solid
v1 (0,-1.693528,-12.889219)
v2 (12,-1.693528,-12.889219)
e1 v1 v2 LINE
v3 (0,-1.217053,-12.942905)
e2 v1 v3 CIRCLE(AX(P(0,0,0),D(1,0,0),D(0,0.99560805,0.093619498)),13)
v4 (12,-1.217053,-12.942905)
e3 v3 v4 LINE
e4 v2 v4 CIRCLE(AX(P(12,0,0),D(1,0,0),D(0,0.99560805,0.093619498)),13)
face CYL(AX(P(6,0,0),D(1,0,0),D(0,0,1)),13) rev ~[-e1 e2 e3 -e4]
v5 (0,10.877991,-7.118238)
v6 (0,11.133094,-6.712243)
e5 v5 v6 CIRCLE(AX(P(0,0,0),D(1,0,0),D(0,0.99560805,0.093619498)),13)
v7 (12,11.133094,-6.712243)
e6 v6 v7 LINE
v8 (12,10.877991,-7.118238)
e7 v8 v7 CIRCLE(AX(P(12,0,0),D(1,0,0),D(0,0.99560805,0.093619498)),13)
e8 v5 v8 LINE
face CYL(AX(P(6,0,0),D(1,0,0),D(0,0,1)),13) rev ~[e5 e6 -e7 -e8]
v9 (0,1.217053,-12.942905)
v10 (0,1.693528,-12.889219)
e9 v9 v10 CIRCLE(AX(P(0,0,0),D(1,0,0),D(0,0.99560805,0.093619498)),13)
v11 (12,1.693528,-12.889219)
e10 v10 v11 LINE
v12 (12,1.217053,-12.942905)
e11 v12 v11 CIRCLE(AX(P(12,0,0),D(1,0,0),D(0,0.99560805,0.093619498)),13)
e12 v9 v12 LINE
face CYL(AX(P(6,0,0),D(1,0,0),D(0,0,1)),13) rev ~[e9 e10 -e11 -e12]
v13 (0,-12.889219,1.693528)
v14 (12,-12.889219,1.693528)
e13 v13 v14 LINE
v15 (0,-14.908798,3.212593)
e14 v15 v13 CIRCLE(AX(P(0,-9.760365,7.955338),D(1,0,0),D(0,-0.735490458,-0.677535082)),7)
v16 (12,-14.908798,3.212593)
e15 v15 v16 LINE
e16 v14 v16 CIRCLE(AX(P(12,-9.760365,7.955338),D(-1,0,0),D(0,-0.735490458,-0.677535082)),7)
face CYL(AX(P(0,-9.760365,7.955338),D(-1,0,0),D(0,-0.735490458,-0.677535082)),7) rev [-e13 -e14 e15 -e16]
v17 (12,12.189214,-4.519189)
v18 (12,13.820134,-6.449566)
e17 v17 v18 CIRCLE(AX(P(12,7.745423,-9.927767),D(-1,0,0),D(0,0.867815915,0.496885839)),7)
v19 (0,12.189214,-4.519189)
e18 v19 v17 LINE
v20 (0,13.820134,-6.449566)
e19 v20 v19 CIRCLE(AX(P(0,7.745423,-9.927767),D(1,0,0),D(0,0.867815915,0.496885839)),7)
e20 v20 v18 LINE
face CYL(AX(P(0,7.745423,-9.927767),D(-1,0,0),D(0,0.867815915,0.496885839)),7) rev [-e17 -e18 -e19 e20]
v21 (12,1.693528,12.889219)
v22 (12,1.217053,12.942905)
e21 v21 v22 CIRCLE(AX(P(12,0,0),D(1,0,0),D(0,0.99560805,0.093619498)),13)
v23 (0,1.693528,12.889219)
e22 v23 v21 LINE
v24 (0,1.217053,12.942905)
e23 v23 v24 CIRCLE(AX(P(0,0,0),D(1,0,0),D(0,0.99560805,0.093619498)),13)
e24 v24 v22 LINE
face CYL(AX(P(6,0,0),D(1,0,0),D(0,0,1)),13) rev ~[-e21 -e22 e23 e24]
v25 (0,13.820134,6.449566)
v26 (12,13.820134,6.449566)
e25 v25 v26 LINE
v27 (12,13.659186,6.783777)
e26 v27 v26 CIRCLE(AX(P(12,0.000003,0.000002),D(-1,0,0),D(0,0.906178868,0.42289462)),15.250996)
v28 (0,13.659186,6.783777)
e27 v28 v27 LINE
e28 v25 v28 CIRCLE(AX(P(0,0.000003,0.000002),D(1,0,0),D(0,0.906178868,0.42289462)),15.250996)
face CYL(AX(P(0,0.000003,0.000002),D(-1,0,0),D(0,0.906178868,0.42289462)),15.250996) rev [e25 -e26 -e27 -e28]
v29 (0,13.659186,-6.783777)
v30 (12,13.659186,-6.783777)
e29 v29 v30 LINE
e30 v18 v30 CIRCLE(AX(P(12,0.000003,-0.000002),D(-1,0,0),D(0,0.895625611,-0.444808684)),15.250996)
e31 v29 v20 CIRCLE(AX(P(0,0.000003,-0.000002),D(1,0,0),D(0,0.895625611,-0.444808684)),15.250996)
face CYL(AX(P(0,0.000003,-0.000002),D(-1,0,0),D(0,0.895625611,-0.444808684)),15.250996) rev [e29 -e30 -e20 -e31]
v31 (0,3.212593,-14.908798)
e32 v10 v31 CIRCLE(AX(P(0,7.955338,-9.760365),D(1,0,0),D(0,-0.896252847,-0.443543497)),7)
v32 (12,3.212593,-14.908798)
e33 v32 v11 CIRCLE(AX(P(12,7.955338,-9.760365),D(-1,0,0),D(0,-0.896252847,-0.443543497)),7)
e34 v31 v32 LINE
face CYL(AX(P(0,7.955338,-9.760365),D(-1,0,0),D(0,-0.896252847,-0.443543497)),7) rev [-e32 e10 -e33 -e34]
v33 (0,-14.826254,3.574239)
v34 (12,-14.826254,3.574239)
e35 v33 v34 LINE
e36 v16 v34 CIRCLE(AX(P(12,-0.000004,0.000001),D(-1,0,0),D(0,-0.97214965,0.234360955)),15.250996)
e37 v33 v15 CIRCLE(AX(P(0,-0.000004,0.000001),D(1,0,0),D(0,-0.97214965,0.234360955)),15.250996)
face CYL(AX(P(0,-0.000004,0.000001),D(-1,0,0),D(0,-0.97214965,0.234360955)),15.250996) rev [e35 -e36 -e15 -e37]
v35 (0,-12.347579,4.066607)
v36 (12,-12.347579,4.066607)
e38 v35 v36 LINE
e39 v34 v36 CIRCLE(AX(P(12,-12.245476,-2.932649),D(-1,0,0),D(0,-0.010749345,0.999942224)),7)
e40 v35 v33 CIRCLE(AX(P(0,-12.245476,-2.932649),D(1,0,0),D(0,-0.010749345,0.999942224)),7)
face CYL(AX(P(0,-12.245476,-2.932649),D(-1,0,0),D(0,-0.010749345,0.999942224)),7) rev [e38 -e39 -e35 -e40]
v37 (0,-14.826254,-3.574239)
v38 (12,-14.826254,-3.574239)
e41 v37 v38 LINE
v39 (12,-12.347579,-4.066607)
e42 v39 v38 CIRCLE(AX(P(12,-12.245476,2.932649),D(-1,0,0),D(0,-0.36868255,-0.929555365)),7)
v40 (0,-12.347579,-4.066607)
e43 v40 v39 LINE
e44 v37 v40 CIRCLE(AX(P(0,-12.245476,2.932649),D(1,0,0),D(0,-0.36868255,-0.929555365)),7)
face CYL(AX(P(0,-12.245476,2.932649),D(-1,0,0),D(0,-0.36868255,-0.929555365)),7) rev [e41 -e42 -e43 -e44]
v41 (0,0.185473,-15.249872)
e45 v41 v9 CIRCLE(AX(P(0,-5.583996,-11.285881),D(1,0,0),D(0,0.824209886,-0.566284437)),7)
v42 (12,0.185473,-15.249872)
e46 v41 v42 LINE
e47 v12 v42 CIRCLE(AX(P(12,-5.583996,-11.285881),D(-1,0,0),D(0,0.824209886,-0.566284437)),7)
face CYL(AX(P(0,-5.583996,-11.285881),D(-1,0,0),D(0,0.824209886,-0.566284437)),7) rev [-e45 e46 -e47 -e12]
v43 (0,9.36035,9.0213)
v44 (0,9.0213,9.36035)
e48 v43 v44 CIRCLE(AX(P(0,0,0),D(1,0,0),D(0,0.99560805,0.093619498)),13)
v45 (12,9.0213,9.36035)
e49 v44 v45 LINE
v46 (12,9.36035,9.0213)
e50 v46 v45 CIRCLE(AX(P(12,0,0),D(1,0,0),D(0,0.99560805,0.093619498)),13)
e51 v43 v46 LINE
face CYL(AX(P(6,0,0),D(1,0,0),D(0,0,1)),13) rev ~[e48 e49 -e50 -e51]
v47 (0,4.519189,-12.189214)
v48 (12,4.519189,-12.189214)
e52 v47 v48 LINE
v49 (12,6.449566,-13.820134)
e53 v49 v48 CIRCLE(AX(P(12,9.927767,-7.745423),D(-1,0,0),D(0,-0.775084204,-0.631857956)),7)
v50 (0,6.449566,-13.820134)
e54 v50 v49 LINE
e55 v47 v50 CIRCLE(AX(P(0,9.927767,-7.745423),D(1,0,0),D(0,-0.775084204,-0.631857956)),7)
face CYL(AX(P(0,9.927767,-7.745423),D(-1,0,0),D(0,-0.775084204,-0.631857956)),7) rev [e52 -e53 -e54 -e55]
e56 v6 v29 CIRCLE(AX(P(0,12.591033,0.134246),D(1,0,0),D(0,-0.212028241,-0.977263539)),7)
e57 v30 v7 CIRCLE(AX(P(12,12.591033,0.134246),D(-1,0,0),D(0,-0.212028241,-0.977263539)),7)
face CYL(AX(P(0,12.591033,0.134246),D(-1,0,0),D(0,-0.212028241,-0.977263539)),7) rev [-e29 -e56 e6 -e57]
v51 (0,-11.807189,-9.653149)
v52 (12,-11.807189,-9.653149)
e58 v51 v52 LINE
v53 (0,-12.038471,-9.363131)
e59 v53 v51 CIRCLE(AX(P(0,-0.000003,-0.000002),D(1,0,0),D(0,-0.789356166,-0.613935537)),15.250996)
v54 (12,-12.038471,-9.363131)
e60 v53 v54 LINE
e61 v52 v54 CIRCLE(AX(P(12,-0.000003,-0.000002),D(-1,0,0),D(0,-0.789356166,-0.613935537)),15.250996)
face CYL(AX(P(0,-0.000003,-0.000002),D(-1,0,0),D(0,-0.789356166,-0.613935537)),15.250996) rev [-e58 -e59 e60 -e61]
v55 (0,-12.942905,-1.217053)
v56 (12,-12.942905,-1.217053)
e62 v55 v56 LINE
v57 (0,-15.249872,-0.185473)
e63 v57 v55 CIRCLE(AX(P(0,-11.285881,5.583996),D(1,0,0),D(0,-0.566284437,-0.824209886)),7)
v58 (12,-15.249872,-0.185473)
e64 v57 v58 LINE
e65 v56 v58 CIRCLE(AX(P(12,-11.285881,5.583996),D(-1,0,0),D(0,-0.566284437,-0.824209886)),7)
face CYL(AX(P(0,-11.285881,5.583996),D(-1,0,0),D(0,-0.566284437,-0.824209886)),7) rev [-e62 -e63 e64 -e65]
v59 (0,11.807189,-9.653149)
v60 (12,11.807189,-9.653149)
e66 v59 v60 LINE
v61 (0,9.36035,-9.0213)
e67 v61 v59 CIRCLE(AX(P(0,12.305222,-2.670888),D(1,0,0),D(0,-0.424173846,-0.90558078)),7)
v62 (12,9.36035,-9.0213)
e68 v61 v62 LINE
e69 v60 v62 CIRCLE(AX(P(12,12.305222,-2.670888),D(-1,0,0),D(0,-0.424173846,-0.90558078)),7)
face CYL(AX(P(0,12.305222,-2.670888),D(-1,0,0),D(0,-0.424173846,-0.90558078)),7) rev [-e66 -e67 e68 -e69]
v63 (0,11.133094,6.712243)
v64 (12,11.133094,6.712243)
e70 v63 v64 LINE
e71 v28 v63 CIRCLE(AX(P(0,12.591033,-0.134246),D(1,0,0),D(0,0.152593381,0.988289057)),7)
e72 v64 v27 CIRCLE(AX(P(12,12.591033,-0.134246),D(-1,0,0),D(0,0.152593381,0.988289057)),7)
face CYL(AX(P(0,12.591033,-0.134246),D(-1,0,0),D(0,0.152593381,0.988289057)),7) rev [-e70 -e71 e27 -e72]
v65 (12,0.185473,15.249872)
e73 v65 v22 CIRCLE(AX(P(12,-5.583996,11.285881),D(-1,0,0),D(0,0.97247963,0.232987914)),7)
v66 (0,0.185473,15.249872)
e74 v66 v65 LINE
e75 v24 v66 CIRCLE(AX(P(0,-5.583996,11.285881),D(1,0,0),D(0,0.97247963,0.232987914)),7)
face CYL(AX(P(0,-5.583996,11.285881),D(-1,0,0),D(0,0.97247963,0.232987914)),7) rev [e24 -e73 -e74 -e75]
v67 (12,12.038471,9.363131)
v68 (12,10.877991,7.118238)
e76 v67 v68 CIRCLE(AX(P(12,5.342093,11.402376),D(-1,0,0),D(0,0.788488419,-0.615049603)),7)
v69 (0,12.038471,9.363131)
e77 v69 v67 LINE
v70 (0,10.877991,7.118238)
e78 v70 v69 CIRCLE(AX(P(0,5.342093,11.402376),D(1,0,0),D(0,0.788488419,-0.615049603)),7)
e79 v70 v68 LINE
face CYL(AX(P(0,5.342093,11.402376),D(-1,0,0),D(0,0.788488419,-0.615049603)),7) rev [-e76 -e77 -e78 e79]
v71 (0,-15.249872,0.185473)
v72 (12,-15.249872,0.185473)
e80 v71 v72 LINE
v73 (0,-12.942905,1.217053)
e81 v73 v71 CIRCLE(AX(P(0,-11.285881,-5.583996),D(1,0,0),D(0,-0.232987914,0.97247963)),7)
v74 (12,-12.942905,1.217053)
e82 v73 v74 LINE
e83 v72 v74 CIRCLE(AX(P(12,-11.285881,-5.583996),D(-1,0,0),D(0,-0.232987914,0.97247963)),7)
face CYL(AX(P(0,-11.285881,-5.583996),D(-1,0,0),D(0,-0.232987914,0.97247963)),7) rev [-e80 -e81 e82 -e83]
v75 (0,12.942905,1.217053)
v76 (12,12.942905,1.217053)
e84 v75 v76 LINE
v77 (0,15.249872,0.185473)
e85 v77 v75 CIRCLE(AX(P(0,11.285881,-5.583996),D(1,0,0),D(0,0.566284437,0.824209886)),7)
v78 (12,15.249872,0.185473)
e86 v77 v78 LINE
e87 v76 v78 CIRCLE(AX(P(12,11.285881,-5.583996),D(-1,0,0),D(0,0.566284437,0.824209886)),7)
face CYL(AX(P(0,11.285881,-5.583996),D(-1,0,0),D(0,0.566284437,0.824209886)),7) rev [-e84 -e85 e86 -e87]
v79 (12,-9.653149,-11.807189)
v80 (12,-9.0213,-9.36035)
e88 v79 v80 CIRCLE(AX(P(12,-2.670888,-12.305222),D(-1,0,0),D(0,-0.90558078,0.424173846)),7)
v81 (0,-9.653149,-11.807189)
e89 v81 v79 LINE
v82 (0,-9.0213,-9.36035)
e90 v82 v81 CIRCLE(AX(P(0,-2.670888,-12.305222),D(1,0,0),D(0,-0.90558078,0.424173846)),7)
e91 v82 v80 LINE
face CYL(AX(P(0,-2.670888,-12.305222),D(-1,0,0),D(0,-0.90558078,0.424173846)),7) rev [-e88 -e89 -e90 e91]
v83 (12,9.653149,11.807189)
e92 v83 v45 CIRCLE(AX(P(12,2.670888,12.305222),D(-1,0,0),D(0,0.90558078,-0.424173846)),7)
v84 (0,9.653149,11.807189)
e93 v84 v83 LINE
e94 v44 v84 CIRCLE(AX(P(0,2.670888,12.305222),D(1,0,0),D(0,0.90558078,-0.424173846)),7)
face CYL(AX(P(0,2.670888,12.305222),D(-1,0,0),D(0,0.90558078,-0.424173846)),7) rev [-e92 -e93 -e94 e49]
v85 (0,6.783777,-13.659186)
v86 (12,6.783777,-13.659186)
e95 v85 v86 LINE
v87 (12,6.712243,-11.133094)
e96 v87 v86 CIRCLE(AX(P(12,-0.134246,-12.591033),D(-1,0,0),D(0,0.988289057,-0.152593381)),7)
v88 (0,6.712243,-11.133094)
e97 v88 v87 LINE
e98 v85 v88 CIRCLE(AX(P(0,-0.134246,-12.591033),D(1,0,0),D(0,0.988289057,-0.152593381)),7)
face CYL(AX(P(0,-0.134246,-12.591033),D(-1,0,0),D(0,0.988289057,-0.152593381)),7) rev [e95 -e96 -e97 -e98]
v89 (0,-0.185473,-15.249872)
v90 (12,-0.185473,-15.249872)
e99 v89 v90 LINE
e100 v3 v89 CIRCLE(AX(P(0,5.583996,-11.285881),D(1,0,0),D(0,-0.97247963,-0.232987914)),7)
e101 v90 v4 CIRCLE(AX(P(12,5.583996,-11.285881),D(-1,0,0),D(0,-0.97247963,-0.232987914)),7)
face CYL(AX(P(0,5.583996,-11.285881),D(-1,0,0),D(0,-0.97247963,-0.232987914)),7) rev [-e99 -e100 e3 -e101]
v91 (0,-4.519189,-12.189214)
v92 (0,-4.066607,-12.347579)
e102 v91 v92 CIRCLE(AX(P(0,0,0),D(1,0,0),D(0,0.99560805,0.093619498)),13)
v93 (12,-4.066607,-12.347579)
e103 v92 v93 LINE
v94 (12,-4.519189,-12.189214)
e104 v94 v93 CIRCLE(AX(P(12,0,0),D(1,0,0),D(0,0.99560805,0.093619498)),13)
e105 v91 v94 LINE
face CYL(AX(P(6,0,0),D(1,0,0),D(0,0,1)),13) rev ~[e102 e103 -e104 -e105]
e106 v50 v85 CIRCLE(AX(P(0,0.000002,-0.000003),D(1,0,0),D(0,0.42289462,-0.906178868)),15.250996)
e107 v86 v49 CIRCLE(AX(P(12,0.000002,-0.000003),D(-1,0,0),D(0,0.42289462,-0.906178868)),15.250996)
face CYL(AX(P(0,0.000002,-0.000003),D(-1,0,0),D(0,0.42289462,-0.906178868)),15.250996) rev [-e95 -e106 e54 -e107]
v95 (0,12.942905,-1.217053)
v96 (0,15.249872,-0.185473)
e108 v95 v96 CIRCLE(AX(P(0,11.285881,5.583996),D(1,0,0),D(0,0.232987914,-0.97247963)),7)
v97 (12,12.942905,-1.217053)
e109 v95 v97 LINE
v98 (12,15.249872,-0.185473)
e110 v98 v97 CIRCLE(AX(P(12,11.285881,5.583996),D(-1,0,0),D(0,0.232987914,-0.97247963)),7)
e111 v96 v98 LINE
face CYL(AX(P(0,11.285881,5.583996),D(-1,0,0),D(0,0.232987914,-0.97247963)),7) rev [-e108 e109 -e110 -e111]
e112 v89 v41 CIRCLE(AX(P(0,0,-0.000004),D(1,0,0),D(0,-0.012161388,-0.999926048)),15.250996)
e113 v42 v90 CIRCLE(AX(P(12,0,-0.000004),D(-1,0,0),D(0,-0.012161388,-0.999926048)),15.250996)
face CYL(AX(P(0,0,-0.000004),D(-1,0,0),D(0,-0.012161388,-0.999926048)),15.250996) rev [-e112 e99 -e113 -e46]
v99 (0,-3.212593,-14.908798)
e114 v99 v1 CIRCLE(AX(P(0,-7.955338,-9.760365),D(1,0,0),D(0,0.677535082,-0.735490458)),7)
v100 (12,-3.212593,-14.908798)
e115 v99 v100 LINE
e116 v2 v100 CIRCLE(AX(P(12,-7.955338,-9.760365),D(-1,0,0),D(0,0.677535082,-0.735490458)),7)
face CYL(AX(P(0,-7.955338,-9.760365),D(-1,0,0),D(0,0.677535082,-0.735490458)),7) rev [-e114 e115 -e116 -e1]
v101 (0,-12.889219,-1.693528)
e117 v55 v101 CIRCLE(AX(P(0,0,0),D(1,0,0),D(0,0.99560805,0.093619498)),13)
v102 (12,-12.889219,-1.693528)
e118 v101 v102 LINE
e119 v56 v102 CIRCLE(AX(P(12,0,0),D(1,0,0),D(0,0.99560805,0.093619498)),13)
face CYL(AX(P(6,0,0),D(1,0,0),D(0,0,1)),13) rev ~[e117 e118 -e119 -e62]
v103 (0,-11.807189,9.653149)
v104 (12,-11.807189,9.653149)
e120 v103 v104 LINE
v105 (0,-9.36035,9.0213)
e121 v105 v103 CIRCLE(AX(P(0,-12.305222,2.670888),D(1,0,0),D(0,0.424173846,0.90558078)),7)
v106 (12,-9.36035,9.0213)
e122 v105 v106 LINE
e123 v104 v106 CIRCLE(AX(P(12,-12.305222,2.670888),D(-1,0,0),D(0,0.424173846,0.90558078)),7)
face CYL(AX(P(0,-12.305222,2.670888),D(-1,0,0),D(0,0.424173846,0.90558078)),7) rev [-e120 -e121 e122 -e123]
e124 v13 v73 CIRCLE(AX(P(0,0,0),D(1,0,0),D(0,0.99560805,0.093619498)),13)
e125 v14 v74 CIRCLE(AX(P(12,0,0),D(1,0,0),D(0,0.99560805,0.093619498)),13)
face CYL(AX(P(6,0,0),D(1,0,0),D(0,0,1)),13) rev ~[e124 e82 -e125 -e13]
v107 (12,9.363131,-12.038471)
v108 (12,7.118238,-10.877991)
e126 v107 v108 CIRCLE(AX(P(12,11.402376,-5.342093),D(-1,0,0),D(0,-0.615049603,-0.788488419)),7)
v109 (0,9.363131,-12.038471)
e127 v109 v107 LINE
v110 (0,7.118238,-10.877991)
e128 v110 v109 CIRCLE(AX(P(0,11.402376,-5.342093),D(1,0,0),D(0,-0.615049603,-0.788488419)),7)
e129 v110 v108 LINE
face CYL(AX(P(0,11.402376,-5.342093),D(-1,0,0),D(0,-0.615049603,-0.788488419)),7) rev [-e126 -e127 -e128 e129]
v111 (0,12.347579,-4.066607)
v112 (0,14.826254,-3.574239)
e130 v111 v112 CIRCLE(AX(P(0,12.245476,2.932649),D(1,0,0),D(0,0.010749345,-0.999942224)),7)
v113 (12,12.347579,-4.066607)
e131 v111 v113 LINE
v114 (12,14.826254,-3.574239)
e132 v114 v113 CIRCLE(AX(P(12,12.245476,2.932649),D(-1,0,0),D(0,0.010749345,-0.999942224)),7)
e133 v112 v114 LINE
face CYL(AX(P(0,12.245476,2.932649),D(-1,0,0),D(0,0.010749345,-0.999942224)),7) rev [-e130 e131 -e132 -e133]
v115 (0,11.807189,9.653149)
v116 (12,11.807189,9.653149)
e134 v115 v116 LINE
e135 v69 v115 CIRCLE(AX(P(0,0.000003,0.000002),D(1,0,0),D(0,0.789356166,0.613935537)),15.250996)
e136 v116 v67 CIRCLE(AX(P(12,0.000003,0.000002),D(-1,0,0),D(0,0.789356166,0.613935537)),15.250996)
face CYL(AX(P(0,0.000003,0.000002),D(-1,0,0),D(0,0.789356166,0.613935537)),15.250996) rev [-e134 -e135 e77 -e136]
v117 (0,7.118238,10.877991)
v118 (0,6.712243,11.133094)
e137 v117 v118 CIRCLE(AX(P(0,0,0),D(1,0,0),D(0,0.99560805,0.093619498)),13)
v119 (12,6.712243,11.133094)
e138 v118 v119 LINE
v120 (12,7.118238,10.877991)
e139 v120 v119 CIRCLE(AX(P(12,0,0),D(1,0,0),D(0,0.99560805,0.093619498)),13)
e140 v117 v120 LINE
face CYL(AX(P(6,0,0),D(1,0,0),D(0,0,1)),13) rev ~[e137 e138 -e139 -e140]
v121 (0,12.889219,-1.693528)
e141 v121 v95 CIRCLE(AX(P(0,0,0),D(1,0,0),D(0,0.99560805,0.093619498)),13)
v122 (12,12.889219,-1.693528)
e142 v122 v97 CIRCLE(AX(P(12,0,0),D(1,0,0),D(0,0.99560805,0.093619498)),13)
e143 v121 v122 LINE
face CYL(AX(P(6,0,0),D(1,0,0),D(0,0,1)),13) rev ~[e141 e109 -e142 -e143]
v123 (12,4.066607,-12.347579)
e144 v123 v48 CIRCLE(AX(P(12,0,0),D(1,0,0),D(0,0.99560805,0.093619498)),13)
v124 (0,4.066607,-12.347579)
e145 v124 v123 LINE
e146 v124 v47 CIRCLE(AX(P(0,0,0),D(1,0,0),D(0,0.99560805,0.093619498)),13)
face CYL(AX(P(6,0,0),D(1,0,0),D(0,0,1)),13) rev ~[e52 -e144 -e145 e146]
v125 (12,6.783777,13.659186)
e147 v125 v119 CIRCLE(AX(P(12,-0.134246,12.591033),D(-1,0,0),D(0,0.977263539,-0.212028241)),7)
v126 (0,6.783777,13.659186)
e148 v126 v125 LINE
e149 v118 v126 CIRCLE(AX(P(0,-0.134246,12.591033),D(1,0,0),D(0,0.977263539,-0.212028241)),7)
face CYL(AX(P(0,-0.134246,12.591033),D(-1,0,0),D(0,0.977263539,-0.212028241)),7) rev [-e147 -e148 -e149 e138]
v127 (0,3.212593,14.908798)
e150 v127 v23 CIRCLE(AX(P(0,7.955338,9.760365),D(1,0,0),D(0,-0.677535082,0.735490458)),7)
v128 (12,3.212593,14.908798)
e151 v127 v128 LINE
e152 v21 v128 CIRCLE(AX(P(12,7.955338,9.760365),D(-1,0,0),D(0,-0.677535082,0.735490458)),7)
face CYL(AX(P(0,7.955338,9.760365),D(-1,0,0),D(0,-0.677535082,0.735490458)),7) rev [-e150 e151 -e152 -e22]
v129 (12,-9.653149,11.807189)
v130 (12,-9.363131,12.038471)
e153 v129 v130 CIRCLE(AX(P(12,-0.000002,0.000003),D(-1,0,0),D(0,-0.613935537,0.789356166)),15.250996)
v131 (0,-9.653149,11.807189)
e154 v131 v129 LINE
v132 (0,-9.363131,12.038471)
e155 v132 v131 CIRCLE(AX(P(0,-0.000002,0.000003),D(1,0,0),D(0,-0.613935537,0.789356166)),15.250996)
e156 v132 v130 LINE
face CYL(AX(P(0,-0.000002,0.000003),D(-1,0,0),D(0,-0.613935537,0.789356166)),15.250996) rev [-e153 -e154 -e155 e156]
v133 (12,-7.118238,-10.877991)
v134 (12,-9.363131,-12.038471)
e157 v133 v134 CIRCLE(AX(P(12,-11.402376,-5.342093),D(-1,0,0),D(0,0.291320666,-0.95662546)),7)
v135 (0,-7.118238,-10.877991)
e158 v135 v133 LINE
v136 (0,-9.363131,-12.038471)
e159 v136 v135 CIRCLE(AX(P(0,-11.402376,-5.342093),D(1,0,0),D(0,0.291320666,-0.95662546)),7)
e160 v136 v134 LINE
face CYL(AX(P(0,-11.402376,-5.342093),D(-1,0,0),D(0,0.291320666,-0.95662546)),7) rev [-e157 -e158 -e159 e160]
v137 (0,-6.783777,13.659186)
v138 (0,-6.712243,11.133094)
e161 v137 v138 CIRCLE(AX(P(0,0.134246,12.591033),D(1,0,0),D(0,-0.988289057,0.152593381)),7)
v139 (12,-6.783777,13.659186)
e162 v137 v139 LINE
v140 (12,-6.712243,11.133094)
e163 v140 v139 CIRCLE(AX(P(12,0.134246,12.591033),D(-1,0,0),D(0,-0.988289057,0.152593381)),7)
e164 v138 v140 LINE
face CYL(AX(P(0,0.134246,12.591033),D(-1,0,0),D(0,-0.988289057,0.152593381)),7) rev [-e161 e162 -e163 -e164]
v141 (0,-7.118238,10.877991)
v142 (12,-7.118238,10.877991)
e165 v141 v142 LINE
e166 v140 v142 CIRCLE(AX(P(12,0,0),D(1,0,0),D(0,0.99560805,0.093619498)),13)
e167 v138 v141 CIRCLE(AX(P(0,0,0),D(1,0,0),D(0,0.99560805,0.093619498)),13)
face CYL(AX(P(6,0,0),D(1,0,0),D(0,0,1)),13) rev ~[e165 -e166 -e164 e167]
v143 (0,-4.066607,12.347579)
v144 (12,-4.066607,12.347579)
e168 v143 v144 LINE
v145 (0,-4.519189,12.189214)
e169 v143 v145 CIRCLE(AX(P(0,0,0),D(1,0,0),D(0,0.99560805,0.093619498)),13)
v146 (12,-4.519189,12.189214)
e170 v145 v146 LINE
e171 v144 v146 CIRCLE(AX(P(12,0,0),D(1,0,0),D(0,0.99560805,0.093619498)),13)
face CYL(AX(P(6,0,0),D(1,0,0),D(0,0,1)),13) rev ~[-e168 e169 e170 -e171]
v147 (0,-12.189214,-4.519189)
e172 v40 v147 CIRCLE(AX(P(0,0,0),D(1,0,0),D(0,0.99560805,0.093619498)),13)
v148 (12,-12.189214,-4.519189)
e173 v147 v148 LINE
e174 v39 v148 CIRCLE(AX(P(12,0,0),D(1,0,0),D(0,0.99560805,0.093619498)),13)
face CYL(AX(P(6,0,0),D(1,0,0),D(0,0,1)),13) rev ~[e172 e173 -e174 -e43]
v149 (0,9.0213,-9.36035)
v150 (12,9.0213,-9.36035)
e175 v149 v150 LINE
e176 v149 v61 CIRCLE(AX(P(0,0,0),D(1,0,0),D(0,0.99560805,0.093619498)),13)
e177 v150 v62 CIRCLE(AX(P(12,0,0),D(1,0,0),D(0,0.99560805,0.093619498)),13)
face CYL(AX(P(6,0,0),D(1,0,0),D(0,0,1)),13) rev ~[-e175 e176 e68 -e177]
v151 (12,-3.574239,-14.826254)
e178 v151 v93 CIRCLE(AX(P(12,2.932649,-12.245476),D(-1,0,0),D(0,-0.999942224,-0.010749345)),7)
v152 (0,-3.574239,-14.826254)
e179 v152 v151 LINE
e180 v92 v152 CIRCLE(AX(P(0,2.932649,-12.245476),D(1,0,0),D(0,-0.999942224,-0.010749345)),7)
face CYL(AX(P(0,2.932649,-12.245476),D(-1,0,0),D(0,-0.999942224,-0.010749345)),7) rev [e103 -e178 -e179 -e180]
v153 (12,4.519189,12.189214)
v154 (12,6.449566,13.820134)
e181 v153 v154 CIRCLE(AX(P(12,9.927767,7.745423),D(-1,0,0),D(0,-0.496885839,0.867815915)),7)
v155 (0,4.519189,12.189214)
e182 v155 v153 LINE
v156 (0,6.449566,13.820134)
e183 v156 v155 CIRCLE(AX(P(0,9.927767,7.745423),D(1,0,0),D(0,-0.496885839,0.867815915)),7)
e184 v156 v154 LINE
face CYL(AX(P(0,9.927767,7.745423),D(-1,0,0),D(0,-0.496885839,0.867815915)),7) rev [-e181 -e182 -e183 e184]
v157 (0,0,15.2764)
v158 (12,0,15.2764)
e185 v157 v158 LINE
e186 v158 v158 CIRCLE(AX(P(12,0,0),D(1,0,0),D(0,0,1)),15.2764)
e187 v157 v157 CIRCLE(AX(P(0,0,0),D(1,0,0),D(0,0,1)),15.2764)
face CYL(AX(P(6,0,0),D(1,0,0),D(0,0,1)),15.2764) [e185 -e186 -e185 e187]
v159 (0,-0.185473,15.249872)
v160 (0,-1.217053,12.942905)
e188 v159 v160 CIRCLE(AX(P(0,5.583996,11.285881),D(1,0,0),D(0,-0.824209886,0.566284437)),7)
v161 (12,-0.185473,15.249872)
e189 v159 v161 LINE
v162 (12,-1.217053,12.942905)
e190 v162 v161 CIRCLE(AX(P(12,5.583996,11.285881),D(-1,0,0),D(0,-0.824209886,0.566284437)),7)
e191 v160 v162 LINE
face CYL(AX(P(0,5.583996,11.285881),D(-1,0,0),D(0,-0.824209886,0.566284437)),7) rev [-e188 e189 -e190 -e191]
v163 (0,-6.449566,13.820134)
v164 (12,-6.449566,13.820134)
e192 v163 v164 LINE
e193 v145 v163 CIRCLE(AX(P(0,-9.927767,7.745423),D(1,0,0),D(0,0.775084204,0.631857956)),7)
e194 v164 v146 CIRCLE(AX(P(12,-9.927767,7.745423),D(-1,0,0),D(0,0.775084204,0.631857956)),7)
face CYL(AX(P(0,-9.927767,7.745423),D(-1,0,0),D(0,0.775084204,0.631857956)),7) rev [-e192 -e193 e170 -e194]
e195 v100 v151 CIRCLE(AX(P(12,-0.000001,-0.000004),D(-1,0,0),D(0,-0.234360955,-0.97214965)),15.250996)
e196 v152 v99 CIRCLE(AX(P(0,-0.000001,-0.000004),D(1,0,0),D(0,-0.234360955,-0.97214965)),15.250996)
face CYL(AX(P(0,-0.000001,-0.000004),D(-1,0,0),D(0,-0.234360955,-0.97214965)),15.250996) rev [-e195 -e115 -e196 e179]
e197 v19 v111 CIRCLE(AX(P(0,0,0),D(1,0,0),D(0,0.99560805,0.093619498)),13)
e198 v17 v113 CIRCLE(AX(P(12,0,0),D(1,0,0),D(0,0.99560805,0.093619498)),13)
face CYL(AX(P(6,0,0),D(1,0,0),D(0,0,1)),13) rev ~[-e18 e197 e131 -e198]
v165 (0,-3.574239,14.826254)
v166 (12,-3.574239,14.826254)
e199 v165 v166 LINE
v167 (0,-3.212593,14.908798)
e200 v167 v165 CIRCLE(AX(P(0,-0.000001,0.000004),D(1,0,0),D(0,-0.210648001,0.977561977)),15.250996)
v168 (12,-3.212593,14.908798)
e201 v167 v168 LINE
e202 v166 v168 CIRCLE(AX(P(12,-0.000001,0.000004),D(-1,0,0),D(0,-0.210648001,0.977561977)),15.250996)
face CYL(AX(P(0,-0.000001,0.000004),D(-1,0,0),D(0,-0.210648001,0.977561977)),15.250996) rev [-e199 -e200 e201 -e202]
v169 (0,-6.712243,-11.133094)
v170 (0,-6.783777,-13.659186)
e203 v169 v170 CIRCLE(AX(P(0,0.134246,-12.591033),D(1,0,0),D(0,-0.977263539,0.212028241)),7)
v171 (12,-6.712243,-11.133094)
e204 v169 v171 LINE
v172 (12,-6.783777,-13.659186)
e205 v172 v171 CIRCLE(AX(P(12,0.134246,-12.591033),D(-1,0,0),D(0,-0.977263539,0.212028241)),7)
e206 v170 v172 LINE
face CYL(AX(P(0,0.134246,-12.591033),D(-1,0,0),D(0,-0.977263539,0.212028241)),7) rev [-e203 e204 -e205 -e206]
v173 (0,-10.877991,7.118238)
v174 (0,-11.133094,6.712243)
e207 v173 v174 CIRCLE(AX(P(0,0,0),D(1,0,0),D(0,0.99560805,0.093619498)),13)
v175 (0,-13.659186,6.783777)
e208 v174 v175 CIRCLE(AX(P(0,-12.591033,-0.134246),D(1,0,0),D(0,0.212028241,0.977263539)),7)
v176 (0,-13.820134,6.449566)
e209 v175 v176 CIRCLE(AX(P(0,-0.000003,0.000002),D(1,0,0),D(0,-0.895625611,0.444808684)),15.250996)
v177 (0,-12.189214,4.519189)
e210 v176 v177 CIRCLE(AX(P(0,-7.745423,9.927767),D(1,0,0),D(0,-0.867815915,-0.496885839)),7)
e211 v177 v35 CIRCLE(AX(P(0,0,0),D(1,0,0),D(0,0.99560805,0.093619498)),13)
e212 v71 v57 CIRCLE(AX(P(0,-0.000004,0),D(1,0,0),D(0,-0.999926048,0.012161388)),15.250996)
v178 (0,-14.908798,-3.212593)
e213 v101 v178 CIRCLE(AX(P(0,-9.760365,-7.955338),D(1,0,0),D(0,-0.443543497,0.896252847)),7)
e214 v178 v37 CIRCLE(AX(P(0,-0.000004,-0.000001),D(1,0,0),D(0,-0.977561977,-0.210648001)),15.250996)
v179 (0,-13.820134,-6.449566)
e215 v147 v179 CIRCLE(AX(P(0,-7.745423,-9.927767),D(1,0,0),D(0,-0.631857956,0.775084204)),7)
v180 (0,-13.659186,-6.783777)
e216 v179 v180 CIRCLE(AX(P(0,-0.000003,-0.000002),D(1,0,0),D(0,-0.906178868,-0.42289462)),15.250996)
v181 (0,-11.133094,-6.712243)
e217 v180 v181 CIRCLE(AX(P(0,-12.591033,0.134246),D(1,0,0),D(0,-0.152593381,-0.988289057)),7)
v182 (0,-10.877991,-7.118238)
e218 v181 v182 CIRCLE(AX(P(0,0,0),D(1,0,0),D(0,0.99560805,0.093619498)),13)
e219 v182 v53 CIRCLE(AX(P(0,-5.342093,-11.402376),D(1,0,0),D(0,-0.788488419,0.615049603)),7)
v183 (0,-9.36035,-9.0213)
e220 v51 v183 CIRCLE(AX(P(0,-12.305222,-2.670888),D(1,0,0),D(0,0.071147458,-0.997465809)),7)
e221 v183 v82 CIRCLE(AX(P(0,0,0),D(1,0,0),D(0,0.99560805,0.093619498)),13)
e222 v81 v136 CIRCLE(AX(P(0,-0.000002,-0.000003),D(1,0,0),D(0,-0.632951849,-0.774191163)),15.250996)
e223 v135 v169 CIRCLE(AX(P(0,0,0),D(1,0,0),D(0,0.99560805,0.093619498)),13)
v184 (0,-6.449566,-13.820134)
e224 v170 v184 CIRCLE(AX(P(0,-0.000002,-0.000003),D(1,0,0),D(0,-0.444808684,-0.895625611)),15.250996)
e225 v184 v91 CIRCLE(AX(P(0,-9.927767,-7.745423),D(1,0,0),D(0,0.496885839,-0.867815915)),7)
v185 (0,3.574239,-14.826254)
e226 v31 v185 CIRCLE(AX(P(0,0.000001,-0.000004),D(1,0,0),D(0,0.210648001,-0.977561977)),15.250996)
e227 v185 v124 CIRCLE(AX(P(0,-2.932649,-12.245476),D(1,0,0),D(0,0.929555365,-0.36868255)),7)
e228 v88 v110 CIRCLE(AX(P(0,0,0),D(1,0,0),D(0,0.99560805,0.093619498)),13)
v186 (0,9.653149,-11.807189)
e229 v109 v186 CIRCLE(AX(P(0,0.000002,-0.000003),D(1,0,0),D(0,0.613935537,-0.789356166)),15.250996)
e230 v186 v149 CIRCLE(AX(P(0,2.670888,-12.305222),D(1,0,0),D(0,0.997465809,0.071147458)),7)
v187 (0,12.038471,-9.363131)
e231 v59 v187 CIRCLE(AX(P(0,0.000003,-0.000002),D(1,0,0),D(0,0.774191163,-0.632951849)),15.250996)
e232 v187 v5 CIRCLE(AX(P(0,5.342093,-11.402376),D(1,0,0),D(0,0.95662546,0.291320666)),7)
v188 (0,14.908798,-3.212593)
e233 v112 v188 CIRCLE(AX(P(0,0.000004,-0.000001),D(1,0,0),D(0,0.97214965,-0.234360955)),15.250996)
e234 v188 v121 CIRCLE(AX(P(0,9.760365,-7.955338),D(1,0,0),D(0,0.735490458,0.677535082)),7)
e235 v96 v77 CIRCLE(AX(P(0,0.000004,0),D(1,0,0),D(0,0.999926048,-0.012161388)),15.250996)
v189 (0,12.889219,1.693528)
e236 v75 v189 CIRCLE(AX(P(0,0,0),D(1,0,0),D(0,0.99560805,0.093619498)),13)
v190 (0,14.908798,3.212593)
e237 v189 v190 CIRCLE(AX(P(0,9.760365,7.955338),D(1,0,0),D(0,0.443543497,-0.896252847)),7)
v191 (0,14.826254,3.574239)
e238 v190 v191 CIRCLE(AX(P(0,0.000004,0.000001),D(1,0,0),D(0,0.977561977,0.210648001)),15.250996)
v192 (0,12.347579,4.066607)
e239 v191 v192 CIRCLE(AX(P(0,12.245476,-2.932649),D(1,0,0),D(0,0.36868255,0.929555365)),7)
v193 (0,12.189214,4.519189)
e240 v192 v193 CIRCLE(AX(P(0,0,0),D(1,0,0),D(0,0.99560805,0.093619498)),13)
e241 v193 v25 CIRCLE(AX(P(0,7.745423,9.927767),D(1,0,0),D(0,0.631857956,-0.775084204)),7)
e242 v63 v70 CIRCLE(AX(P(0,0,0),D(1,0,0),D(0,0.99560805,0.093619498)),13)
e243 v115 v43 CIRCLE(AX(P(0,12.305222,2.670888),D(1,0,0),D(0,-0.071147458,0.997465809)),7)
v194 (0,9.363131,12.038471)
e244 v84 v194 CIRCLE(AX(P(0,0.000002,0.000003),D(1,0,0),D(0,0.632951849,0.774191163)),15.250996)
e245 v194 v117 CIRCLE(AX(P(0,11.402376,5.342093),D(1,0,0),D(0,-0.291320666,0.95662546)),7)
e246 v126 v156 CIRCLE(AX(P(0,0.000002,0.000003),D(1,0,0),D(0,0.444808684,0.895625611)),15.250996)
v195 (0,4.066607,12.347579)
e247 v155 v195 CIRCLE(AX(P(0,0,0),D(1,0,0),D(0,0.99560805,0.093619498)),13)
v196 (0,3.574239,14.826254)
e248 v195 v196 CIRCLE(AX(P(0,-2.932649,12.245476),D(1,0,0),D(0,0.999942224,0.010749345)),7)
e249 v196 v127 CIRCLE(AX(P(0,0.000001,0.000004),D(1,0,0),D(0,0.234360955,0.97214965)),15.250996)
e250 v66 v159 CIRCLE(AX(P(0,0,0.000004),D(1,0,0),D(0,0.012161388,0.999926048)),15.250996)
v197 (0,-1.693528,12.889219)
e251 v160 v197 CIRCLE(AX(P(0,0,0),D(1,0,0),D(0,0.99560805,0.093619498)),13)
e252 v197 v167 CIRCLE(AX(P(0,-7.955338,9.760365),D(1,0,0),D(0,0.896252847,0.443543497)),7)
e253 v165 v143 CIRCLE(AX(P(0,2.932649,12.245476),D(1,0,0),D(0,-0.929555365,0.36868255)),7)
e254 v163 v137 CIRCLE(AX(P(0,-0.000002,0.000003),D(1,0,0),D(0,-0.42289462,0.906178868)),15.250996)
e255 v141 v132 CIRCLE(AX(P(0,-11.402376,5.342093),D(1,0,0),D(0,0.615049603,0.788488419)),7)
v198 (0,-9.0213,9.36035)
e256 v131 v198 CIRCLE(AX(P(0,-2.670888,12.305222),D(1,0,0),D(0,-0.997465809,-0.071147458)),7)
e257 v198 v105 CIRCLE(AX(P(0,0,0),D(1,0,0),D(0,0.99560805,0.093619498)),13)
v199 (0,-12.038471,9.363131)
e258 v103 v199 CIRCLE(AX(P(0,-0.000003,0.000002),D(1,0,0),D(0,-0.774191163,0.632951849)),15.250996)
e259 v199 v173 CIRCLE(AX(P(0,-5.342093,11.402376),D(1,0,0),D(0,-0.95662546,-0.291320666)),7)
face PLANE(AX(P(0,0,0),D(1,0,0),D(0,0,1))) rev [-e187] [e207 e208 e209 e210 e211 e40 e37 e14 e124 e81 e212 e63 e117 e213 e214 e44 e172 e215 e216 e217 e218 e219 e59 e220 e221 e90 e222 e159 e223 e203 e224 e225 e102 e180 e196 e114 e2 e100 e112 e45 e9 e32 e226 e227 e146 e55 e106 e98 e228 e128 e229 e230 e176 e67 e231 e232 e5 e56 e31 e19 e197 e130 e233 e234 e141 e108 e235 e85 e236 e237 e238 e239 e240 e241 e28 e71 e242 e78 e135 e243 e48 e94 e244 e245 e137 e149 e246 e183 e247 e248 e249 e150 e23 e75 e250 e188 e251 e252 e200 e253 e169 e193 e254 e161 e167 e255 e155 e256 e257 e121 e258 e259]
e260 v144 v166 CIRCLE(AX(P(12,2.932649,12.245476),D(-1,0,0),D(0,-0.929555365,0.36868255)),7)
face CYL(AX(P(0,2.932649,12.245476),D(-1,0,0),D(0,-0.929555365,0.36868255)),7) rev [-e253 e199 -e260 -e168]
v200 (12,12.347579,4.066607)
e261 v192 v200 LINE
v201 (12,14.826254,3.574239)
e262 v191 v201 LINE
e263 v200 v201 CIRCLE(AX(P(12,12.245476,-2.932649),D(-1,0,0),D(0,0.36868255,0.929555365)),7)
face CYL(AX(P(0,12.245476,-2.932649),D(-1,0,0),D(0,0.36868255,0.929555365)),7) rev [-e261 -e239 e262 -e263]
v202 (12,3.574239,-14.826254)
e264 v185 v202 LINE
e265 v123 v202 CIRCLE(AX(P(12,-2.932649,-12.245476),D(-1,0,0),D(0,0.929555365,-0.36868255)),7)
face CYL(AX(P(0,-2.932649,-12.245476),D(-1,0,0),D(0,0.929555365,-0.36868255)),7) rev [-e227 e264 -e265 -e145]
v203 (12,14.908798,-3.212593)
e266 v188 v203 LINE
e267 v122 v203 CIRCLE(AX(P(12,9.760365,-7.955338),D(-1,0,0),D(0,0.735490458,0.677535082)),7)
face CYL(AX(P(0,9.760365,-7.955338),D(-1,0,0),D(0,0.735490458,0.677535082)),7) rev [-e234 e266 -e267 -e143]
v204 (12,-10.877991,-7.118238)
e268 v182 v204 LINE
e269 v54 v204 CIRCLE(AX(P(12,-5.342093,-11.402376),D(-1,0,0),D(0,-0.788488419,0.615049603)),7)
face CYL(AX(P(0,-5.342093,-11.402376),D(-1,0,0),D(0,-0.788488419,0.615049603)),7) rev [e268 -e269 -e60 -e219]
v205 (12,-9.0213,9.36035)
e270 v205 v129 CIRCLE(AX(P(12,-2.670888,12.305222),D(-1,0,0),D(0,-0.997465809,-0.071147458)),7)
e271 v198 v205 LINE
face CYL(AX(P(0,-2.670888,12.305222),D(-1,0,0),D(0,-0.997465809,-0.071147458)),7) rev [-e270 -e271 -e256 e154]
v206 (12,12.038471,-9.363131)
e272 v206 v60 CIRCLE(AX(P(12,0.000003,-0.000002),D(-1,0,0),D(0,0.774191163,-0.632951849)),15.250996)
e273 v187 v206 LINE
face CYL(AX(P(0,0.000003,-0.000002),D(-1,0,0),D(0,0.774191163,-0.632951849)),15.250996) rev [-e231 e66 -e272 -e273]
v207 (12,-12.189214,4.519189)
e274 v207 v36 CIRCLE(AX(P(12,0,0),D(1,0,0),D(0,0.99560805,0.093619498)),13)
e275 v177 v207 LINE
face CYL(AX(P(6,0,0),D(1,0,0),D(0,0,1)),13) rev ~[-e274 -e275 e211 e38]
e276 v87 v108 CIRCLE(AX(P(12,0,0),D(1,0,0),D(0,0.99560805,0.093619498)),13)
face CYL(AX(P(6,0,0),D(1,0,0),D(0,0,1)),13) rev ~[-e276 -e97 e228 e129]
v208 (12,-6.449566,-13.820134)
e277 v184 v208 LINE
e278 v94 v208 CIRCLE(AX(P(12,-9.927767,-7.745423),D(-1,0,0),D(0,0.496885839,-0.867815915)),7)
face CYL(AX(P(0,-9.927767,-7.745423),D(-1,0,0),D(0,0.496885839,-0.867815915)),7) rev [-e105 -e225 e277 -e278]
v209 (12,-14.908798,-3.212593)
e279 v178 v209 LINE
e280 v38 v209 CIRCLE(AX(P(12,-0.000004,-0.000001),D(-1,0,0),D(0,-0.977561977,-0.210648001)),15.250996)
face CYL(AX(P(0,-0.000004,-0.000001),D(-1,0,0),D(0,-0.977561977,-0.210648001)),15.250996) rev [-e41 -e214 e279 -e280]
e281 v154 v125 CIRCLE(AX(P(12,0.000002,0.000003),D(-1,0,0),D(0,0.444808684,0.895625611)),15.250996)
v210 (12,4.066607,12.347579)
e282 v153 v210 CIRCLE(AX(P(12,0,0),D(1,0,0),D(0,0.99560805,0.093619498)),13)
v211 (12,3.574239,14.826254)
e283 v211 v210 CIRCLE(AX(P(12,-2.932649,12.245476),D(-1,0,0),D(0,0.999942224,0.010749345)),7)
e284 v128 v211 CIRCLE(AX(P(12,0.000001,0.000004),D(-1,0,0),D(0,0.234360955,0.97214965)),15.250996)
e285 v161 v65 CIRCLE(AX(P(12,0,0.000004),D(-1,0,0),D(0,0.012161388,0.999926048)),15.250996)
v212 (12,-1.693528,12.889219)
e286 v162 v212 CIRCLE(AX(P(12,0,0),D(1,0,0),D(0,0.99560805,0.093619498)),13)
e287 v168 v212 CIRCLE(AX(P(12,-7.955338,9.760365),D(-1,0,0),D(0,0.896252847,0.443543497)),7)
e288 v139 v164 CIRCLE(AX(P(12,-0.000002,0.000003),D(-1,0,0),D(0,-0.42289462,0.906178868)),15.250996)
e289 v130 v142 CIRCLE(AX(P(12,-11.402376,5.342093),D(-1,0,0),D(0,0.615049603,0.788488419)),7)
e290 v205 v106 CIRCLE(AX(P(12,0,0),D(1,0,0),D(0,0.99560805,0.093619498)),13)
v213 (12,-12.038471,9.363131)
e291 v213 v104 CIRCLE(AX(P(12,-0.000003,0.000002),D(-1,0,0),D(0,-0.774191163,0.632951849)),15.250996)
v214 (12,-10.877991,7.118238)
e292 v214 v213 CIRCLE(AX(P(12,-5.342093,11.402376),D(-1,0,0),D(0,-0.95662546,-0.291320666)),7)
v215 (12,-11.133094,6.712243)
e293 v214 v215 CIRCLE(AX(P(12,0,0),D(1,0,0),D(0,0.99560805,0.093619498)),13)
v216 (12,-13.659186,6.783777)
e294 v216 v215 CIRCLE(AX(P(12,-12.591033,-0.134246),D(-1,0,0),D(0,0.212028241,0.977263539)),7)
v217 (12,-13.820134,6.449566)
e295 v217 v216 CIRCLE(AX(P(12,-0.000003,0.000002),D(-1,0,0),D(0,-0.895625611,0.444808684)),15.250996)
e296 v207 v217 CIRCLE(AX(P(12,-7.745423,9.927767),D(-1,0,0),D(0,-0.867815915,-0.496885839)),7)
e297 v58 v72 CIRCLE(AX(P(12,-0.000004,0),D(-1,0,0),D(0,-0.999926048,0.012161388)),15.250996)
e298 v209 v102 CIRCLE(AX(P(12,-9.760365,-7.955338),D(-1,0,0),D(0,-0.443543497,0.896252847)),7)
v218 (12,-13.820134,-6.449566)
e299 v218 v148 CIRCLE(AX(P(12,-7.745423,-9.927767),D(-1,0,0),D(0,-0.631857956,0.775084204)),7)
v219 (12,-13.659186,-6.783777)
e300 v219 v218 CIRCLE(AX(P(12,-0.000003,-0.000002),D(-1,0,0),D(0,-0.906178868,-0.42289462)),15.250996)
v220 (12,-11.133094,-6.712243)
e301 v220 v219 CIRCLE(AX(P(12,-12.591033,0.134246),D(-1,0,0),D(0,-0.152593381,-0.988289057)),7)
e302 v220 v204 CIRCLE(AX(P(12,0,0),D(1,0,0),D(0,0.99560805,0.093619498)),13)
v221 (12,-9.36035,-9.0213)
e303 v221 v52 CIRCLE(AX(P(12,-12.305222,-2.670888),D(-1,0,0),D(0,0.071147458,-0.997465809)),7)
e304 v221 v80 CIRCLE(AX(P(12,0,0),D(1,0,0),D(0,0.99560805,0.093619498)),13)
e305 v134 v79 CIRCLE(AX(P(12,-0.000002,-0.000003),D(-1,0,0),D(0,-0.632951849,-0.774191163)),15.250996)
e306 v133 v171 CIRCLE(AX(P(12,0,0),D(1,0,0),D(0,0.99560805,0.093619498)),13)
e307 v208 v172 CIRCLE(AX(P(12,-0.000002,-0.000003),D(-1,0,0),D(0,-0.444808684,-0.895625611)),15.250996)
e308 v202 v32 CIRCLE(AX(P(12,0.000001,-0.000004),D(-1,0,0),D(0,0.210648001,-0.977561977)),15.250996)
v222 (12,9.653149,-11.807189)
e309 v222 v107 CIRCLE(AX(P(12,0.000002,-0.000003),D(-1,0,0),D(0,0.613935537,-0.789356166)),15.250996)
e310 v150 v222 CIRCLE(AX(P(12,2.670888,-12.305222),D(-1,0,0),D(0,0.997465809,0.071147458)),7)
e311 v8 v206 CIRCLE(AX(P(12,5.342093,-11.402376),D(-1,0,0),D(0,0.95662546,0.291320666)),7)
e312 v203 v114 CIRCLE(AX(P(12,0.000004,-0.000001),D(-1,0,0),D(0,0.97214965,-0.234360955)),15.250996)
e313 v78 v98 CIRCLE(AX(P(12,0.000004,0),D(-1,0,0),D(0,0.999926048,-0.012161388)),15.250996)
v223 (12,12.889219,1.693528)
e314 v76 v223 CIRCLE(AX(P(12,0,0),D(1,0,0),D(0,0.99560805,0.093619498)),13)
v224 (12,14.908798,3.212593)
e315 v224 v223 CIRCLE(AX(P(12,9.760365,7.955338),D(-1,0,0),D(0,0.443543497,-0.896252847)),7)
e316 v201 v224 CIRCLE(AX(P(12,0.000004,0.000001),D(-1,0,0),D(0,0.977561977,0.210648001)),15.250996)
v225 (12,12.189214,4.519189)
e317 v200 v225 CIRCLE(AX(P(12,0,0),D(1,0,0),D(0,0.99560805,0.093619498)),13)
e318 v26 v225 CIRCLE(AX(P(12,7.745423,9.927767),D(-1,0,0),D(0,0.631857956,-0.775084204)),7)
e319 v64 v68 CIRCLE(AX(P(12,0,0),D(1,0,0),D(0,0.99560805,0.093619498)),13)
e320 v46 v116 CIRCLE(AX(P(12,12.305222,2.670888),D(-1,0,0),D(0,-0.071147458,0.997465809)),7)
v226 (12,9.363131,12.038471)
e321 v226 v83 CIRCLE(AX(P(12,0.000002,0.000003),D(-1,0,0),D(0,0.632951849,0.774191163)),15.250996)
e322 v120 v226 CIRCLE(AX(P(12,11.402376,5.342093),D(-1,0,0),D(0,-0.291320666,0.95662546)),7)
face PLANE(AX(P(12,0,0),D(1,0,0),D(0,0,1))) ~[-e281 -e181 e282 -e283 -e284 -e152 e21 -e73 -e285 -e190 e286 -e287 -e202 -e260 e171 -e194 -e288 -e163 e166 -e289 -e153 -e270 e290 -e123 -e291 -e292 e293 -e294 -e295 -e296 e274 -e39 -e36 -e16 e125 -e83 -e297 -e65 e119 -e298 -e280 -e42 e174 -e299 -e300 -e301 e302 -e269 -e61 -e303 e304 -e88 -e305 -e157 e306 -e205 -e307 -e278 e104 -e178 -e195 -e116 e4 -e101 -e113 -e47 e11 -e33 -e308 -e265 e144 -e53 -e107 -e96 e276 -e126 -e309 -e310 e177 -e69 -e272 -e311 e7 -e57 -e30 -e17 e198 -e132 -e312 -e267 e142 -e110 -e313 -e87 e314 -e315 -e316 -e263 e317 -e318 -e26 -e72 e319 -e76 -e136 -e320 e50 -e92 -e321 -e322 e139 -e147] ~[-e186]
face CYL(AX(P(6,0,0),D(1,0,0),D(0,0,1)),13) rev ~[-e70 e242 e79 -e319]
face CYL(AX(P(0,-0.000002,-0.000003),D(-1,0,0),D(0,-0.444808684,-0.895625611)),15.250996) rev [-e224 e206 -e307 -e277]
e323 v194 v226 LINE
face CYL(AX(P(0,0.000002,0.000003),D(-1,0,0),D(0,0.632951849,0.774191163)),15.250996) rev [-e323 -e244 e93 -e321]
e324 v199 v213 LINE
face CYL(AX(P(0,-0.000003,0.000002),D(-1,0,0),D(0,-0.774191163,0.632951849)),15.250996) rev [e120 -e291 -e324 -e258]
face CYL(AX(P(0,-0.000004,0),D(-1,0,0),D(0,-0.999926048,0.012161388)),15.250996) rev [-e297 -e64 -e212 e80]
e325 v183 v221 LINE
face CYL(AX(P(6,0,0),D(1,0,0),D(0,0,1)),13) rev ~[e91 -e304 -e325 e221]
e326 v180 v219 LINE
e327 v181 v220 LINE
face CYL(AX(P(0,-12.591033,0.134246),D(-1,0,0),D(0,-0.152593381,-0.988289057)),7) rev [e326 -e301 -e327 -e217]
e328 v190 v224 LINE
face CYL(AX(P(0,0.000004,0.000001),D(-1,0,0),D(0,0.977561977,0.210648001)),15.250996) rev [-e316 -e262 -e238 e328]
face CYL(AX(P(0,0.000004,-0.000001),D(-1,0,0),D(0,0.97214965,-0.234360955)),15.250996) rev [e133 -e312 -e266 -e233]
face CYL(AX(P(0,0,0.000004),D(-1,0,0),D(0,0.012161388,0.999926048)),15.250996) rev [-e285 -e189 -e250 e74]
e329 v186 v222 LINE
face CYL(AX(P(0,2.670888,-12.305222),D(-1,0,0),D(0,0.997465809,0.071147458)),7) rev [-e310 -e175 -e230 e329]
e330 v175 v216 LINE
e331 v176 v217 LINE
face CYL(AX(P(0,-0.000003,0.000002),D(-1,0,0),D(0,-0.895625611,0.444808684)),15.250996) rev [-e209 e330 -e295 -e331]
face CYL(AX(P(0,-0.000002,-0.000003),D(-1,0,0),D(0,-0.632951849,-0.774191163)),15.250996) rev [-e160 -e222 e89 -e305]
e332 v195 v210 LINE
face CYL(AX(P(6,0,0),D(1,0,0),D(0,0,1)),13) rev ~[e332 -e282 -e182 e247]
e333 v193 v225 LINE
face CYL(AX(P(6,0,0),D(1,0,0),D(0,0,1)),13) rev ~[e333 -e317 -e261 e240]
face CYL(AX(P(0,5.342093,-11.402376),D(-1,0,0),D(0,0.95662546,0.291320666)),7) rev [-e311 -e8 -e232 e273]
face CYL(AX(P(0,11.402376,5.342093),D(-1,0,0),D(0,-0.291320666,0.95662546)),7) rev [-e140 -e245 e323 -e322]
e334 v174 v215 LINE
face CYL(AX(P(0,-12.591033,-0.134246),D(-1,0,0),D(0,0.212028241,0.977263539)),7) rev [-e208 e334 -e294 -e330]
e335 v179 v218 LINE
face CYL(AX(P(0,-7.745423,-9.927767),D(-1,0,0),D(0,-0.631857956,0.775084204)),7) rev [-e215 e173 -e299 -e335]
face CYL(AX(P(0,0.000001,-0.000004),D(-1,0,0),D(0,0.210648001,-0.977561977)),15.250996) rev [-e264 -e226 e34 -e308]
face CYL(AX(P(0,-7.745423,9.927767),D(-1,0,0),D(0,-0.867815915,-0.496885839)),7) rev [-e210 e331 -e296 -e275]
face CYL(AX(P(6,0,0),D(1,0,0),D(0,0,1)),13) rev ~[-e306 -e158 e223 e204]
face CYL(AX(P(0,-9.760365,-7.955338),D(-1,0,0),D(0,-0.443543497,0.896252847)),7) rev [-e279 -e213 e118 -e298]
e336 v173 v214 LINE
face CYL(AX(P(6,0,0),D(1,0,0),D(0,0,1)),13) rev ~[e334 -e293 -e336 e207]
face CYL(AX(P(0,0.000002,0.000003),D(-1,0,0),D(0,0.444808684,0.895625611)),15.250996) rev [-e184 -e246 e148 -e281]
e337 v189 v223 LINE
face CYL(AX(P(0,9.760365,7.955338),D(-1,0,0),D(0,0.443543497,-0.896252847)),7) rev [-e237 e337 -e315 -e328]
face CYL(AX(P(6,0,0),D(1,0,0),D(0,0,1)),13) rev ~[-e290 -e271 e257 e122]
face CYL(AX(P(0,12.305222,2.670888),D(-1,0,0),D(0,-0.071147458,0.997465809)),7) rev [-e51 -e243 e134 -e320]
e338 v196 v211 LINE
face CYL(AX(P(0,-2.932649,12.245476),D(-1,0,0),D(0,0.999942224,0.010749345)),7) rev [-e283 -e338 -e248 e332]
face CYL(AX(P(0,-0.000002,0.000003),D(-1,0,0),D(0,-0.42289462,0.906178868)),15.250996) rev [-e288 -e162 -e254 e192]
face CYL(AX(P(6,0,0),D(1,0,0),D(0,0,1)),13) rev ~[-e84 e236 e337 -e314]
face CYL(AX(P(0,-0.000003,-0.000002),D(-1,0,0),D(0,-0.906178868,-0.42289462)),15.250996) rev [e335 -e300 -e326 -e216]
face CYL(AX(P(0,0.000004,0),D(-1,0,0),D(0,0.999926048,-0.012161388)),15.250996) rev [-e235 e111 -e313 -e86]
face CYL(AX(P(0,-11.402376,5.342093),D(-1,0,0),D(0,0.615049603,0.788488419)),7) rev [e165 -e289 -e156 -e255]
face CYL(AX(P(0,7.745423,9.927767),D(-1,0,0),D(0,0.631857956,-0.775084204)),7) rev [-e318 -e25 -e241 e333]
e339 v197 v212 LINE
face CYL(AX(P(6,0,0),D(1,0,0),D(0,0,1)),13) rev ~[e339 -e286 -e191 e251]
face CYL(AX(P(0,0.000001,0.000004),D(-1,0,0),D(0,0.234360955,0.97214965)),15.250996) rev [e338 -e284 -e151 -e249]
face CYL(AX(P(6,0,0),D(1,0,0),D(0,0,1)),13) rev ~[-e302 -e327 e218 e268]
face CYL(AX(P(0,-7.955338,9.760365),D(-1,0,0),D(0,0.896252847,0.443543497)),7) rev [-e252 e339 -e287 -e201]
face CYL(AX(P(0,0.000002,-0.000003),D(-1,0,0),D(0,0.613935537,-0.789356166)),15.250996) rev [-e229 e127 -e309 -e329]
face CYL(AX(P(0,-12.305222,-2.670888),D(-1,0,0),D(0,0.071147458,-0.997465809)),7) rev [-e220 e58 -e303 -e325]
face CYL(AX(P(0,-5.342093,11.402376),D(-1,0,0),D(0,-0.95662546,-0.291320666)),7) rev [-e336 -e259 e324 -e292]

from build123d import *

# Parameters (mm, degrees)
BASPROSKE_W     = 12
BASPROSKE_H     = 2.2764
TOOTHCUT_DEPTH  = 25.713089526
TEETHCUTS_COUNT = 28
TEETHCUTS_ANGLE = 347.142857143


with BuildPart() as part:
    # BasProSke → Base-Revolve (revolve)
    with BuildSketch(Plane(origin=(0, 0, 0), x_dir=(1, 0, 0), z_dir=(0, 1, 0)), mode=Mode.PRIVATE) as base_revolve_sk:
        with Locations((6, 14.1382)):
            Rectangle(BASPROSKE_W, BASPROSKE_H)
    revolve(base_revolve_sk.sketch.rotate(Axis((-10, 0, 0), (1, 0, 0)), 180), axis=Axis((-10, 0, 0), (1, 0, 0)))

    # TooCutSke → ToothCut (cut, through all)
    with BuildSketch(Plane(origin=(0, 0, 0), x_dir=(0, 0, -1), z_dir=(1, 0, 0))):
        with BuildLine():
            ThreePointArc((1.223361493, 12.9167965), (0.811702044, 14.131060802), (0.185473285, 15.249872152))
            ThreePointArc((0.185473285, 15.249872152), (0, 15.251), (-0.185473285, 15.249872152))
            ThreePointArc((-0.185473285, 15.249872152), (-0.811702044, 14.131060802), (-1.223361493, 12.9167965))
            ThreePointArc((-1.223361493, 12.9167965), (0, 12.9746), (1.223361493, 12.9167965))
        make_face()
    toothcut = extrude(amount=TOOTHCUT_DEPTH, mode=Mode.SUBTRACT)

    # TeethCuts: ToothCut ×28 about axis
    teethcuts_axis = Axis((-10, 0, 0), (1, 0, 0))
    for i in range(1, TEETHCUTS_COUNT):
        add(toothcut.rotate(teethcuts_axis, i * TEETHCUTS_ANGLE / (TEETHCUTS_COUNT - 1)), mode=Mode.SUBTRACT)


solid = part.part
